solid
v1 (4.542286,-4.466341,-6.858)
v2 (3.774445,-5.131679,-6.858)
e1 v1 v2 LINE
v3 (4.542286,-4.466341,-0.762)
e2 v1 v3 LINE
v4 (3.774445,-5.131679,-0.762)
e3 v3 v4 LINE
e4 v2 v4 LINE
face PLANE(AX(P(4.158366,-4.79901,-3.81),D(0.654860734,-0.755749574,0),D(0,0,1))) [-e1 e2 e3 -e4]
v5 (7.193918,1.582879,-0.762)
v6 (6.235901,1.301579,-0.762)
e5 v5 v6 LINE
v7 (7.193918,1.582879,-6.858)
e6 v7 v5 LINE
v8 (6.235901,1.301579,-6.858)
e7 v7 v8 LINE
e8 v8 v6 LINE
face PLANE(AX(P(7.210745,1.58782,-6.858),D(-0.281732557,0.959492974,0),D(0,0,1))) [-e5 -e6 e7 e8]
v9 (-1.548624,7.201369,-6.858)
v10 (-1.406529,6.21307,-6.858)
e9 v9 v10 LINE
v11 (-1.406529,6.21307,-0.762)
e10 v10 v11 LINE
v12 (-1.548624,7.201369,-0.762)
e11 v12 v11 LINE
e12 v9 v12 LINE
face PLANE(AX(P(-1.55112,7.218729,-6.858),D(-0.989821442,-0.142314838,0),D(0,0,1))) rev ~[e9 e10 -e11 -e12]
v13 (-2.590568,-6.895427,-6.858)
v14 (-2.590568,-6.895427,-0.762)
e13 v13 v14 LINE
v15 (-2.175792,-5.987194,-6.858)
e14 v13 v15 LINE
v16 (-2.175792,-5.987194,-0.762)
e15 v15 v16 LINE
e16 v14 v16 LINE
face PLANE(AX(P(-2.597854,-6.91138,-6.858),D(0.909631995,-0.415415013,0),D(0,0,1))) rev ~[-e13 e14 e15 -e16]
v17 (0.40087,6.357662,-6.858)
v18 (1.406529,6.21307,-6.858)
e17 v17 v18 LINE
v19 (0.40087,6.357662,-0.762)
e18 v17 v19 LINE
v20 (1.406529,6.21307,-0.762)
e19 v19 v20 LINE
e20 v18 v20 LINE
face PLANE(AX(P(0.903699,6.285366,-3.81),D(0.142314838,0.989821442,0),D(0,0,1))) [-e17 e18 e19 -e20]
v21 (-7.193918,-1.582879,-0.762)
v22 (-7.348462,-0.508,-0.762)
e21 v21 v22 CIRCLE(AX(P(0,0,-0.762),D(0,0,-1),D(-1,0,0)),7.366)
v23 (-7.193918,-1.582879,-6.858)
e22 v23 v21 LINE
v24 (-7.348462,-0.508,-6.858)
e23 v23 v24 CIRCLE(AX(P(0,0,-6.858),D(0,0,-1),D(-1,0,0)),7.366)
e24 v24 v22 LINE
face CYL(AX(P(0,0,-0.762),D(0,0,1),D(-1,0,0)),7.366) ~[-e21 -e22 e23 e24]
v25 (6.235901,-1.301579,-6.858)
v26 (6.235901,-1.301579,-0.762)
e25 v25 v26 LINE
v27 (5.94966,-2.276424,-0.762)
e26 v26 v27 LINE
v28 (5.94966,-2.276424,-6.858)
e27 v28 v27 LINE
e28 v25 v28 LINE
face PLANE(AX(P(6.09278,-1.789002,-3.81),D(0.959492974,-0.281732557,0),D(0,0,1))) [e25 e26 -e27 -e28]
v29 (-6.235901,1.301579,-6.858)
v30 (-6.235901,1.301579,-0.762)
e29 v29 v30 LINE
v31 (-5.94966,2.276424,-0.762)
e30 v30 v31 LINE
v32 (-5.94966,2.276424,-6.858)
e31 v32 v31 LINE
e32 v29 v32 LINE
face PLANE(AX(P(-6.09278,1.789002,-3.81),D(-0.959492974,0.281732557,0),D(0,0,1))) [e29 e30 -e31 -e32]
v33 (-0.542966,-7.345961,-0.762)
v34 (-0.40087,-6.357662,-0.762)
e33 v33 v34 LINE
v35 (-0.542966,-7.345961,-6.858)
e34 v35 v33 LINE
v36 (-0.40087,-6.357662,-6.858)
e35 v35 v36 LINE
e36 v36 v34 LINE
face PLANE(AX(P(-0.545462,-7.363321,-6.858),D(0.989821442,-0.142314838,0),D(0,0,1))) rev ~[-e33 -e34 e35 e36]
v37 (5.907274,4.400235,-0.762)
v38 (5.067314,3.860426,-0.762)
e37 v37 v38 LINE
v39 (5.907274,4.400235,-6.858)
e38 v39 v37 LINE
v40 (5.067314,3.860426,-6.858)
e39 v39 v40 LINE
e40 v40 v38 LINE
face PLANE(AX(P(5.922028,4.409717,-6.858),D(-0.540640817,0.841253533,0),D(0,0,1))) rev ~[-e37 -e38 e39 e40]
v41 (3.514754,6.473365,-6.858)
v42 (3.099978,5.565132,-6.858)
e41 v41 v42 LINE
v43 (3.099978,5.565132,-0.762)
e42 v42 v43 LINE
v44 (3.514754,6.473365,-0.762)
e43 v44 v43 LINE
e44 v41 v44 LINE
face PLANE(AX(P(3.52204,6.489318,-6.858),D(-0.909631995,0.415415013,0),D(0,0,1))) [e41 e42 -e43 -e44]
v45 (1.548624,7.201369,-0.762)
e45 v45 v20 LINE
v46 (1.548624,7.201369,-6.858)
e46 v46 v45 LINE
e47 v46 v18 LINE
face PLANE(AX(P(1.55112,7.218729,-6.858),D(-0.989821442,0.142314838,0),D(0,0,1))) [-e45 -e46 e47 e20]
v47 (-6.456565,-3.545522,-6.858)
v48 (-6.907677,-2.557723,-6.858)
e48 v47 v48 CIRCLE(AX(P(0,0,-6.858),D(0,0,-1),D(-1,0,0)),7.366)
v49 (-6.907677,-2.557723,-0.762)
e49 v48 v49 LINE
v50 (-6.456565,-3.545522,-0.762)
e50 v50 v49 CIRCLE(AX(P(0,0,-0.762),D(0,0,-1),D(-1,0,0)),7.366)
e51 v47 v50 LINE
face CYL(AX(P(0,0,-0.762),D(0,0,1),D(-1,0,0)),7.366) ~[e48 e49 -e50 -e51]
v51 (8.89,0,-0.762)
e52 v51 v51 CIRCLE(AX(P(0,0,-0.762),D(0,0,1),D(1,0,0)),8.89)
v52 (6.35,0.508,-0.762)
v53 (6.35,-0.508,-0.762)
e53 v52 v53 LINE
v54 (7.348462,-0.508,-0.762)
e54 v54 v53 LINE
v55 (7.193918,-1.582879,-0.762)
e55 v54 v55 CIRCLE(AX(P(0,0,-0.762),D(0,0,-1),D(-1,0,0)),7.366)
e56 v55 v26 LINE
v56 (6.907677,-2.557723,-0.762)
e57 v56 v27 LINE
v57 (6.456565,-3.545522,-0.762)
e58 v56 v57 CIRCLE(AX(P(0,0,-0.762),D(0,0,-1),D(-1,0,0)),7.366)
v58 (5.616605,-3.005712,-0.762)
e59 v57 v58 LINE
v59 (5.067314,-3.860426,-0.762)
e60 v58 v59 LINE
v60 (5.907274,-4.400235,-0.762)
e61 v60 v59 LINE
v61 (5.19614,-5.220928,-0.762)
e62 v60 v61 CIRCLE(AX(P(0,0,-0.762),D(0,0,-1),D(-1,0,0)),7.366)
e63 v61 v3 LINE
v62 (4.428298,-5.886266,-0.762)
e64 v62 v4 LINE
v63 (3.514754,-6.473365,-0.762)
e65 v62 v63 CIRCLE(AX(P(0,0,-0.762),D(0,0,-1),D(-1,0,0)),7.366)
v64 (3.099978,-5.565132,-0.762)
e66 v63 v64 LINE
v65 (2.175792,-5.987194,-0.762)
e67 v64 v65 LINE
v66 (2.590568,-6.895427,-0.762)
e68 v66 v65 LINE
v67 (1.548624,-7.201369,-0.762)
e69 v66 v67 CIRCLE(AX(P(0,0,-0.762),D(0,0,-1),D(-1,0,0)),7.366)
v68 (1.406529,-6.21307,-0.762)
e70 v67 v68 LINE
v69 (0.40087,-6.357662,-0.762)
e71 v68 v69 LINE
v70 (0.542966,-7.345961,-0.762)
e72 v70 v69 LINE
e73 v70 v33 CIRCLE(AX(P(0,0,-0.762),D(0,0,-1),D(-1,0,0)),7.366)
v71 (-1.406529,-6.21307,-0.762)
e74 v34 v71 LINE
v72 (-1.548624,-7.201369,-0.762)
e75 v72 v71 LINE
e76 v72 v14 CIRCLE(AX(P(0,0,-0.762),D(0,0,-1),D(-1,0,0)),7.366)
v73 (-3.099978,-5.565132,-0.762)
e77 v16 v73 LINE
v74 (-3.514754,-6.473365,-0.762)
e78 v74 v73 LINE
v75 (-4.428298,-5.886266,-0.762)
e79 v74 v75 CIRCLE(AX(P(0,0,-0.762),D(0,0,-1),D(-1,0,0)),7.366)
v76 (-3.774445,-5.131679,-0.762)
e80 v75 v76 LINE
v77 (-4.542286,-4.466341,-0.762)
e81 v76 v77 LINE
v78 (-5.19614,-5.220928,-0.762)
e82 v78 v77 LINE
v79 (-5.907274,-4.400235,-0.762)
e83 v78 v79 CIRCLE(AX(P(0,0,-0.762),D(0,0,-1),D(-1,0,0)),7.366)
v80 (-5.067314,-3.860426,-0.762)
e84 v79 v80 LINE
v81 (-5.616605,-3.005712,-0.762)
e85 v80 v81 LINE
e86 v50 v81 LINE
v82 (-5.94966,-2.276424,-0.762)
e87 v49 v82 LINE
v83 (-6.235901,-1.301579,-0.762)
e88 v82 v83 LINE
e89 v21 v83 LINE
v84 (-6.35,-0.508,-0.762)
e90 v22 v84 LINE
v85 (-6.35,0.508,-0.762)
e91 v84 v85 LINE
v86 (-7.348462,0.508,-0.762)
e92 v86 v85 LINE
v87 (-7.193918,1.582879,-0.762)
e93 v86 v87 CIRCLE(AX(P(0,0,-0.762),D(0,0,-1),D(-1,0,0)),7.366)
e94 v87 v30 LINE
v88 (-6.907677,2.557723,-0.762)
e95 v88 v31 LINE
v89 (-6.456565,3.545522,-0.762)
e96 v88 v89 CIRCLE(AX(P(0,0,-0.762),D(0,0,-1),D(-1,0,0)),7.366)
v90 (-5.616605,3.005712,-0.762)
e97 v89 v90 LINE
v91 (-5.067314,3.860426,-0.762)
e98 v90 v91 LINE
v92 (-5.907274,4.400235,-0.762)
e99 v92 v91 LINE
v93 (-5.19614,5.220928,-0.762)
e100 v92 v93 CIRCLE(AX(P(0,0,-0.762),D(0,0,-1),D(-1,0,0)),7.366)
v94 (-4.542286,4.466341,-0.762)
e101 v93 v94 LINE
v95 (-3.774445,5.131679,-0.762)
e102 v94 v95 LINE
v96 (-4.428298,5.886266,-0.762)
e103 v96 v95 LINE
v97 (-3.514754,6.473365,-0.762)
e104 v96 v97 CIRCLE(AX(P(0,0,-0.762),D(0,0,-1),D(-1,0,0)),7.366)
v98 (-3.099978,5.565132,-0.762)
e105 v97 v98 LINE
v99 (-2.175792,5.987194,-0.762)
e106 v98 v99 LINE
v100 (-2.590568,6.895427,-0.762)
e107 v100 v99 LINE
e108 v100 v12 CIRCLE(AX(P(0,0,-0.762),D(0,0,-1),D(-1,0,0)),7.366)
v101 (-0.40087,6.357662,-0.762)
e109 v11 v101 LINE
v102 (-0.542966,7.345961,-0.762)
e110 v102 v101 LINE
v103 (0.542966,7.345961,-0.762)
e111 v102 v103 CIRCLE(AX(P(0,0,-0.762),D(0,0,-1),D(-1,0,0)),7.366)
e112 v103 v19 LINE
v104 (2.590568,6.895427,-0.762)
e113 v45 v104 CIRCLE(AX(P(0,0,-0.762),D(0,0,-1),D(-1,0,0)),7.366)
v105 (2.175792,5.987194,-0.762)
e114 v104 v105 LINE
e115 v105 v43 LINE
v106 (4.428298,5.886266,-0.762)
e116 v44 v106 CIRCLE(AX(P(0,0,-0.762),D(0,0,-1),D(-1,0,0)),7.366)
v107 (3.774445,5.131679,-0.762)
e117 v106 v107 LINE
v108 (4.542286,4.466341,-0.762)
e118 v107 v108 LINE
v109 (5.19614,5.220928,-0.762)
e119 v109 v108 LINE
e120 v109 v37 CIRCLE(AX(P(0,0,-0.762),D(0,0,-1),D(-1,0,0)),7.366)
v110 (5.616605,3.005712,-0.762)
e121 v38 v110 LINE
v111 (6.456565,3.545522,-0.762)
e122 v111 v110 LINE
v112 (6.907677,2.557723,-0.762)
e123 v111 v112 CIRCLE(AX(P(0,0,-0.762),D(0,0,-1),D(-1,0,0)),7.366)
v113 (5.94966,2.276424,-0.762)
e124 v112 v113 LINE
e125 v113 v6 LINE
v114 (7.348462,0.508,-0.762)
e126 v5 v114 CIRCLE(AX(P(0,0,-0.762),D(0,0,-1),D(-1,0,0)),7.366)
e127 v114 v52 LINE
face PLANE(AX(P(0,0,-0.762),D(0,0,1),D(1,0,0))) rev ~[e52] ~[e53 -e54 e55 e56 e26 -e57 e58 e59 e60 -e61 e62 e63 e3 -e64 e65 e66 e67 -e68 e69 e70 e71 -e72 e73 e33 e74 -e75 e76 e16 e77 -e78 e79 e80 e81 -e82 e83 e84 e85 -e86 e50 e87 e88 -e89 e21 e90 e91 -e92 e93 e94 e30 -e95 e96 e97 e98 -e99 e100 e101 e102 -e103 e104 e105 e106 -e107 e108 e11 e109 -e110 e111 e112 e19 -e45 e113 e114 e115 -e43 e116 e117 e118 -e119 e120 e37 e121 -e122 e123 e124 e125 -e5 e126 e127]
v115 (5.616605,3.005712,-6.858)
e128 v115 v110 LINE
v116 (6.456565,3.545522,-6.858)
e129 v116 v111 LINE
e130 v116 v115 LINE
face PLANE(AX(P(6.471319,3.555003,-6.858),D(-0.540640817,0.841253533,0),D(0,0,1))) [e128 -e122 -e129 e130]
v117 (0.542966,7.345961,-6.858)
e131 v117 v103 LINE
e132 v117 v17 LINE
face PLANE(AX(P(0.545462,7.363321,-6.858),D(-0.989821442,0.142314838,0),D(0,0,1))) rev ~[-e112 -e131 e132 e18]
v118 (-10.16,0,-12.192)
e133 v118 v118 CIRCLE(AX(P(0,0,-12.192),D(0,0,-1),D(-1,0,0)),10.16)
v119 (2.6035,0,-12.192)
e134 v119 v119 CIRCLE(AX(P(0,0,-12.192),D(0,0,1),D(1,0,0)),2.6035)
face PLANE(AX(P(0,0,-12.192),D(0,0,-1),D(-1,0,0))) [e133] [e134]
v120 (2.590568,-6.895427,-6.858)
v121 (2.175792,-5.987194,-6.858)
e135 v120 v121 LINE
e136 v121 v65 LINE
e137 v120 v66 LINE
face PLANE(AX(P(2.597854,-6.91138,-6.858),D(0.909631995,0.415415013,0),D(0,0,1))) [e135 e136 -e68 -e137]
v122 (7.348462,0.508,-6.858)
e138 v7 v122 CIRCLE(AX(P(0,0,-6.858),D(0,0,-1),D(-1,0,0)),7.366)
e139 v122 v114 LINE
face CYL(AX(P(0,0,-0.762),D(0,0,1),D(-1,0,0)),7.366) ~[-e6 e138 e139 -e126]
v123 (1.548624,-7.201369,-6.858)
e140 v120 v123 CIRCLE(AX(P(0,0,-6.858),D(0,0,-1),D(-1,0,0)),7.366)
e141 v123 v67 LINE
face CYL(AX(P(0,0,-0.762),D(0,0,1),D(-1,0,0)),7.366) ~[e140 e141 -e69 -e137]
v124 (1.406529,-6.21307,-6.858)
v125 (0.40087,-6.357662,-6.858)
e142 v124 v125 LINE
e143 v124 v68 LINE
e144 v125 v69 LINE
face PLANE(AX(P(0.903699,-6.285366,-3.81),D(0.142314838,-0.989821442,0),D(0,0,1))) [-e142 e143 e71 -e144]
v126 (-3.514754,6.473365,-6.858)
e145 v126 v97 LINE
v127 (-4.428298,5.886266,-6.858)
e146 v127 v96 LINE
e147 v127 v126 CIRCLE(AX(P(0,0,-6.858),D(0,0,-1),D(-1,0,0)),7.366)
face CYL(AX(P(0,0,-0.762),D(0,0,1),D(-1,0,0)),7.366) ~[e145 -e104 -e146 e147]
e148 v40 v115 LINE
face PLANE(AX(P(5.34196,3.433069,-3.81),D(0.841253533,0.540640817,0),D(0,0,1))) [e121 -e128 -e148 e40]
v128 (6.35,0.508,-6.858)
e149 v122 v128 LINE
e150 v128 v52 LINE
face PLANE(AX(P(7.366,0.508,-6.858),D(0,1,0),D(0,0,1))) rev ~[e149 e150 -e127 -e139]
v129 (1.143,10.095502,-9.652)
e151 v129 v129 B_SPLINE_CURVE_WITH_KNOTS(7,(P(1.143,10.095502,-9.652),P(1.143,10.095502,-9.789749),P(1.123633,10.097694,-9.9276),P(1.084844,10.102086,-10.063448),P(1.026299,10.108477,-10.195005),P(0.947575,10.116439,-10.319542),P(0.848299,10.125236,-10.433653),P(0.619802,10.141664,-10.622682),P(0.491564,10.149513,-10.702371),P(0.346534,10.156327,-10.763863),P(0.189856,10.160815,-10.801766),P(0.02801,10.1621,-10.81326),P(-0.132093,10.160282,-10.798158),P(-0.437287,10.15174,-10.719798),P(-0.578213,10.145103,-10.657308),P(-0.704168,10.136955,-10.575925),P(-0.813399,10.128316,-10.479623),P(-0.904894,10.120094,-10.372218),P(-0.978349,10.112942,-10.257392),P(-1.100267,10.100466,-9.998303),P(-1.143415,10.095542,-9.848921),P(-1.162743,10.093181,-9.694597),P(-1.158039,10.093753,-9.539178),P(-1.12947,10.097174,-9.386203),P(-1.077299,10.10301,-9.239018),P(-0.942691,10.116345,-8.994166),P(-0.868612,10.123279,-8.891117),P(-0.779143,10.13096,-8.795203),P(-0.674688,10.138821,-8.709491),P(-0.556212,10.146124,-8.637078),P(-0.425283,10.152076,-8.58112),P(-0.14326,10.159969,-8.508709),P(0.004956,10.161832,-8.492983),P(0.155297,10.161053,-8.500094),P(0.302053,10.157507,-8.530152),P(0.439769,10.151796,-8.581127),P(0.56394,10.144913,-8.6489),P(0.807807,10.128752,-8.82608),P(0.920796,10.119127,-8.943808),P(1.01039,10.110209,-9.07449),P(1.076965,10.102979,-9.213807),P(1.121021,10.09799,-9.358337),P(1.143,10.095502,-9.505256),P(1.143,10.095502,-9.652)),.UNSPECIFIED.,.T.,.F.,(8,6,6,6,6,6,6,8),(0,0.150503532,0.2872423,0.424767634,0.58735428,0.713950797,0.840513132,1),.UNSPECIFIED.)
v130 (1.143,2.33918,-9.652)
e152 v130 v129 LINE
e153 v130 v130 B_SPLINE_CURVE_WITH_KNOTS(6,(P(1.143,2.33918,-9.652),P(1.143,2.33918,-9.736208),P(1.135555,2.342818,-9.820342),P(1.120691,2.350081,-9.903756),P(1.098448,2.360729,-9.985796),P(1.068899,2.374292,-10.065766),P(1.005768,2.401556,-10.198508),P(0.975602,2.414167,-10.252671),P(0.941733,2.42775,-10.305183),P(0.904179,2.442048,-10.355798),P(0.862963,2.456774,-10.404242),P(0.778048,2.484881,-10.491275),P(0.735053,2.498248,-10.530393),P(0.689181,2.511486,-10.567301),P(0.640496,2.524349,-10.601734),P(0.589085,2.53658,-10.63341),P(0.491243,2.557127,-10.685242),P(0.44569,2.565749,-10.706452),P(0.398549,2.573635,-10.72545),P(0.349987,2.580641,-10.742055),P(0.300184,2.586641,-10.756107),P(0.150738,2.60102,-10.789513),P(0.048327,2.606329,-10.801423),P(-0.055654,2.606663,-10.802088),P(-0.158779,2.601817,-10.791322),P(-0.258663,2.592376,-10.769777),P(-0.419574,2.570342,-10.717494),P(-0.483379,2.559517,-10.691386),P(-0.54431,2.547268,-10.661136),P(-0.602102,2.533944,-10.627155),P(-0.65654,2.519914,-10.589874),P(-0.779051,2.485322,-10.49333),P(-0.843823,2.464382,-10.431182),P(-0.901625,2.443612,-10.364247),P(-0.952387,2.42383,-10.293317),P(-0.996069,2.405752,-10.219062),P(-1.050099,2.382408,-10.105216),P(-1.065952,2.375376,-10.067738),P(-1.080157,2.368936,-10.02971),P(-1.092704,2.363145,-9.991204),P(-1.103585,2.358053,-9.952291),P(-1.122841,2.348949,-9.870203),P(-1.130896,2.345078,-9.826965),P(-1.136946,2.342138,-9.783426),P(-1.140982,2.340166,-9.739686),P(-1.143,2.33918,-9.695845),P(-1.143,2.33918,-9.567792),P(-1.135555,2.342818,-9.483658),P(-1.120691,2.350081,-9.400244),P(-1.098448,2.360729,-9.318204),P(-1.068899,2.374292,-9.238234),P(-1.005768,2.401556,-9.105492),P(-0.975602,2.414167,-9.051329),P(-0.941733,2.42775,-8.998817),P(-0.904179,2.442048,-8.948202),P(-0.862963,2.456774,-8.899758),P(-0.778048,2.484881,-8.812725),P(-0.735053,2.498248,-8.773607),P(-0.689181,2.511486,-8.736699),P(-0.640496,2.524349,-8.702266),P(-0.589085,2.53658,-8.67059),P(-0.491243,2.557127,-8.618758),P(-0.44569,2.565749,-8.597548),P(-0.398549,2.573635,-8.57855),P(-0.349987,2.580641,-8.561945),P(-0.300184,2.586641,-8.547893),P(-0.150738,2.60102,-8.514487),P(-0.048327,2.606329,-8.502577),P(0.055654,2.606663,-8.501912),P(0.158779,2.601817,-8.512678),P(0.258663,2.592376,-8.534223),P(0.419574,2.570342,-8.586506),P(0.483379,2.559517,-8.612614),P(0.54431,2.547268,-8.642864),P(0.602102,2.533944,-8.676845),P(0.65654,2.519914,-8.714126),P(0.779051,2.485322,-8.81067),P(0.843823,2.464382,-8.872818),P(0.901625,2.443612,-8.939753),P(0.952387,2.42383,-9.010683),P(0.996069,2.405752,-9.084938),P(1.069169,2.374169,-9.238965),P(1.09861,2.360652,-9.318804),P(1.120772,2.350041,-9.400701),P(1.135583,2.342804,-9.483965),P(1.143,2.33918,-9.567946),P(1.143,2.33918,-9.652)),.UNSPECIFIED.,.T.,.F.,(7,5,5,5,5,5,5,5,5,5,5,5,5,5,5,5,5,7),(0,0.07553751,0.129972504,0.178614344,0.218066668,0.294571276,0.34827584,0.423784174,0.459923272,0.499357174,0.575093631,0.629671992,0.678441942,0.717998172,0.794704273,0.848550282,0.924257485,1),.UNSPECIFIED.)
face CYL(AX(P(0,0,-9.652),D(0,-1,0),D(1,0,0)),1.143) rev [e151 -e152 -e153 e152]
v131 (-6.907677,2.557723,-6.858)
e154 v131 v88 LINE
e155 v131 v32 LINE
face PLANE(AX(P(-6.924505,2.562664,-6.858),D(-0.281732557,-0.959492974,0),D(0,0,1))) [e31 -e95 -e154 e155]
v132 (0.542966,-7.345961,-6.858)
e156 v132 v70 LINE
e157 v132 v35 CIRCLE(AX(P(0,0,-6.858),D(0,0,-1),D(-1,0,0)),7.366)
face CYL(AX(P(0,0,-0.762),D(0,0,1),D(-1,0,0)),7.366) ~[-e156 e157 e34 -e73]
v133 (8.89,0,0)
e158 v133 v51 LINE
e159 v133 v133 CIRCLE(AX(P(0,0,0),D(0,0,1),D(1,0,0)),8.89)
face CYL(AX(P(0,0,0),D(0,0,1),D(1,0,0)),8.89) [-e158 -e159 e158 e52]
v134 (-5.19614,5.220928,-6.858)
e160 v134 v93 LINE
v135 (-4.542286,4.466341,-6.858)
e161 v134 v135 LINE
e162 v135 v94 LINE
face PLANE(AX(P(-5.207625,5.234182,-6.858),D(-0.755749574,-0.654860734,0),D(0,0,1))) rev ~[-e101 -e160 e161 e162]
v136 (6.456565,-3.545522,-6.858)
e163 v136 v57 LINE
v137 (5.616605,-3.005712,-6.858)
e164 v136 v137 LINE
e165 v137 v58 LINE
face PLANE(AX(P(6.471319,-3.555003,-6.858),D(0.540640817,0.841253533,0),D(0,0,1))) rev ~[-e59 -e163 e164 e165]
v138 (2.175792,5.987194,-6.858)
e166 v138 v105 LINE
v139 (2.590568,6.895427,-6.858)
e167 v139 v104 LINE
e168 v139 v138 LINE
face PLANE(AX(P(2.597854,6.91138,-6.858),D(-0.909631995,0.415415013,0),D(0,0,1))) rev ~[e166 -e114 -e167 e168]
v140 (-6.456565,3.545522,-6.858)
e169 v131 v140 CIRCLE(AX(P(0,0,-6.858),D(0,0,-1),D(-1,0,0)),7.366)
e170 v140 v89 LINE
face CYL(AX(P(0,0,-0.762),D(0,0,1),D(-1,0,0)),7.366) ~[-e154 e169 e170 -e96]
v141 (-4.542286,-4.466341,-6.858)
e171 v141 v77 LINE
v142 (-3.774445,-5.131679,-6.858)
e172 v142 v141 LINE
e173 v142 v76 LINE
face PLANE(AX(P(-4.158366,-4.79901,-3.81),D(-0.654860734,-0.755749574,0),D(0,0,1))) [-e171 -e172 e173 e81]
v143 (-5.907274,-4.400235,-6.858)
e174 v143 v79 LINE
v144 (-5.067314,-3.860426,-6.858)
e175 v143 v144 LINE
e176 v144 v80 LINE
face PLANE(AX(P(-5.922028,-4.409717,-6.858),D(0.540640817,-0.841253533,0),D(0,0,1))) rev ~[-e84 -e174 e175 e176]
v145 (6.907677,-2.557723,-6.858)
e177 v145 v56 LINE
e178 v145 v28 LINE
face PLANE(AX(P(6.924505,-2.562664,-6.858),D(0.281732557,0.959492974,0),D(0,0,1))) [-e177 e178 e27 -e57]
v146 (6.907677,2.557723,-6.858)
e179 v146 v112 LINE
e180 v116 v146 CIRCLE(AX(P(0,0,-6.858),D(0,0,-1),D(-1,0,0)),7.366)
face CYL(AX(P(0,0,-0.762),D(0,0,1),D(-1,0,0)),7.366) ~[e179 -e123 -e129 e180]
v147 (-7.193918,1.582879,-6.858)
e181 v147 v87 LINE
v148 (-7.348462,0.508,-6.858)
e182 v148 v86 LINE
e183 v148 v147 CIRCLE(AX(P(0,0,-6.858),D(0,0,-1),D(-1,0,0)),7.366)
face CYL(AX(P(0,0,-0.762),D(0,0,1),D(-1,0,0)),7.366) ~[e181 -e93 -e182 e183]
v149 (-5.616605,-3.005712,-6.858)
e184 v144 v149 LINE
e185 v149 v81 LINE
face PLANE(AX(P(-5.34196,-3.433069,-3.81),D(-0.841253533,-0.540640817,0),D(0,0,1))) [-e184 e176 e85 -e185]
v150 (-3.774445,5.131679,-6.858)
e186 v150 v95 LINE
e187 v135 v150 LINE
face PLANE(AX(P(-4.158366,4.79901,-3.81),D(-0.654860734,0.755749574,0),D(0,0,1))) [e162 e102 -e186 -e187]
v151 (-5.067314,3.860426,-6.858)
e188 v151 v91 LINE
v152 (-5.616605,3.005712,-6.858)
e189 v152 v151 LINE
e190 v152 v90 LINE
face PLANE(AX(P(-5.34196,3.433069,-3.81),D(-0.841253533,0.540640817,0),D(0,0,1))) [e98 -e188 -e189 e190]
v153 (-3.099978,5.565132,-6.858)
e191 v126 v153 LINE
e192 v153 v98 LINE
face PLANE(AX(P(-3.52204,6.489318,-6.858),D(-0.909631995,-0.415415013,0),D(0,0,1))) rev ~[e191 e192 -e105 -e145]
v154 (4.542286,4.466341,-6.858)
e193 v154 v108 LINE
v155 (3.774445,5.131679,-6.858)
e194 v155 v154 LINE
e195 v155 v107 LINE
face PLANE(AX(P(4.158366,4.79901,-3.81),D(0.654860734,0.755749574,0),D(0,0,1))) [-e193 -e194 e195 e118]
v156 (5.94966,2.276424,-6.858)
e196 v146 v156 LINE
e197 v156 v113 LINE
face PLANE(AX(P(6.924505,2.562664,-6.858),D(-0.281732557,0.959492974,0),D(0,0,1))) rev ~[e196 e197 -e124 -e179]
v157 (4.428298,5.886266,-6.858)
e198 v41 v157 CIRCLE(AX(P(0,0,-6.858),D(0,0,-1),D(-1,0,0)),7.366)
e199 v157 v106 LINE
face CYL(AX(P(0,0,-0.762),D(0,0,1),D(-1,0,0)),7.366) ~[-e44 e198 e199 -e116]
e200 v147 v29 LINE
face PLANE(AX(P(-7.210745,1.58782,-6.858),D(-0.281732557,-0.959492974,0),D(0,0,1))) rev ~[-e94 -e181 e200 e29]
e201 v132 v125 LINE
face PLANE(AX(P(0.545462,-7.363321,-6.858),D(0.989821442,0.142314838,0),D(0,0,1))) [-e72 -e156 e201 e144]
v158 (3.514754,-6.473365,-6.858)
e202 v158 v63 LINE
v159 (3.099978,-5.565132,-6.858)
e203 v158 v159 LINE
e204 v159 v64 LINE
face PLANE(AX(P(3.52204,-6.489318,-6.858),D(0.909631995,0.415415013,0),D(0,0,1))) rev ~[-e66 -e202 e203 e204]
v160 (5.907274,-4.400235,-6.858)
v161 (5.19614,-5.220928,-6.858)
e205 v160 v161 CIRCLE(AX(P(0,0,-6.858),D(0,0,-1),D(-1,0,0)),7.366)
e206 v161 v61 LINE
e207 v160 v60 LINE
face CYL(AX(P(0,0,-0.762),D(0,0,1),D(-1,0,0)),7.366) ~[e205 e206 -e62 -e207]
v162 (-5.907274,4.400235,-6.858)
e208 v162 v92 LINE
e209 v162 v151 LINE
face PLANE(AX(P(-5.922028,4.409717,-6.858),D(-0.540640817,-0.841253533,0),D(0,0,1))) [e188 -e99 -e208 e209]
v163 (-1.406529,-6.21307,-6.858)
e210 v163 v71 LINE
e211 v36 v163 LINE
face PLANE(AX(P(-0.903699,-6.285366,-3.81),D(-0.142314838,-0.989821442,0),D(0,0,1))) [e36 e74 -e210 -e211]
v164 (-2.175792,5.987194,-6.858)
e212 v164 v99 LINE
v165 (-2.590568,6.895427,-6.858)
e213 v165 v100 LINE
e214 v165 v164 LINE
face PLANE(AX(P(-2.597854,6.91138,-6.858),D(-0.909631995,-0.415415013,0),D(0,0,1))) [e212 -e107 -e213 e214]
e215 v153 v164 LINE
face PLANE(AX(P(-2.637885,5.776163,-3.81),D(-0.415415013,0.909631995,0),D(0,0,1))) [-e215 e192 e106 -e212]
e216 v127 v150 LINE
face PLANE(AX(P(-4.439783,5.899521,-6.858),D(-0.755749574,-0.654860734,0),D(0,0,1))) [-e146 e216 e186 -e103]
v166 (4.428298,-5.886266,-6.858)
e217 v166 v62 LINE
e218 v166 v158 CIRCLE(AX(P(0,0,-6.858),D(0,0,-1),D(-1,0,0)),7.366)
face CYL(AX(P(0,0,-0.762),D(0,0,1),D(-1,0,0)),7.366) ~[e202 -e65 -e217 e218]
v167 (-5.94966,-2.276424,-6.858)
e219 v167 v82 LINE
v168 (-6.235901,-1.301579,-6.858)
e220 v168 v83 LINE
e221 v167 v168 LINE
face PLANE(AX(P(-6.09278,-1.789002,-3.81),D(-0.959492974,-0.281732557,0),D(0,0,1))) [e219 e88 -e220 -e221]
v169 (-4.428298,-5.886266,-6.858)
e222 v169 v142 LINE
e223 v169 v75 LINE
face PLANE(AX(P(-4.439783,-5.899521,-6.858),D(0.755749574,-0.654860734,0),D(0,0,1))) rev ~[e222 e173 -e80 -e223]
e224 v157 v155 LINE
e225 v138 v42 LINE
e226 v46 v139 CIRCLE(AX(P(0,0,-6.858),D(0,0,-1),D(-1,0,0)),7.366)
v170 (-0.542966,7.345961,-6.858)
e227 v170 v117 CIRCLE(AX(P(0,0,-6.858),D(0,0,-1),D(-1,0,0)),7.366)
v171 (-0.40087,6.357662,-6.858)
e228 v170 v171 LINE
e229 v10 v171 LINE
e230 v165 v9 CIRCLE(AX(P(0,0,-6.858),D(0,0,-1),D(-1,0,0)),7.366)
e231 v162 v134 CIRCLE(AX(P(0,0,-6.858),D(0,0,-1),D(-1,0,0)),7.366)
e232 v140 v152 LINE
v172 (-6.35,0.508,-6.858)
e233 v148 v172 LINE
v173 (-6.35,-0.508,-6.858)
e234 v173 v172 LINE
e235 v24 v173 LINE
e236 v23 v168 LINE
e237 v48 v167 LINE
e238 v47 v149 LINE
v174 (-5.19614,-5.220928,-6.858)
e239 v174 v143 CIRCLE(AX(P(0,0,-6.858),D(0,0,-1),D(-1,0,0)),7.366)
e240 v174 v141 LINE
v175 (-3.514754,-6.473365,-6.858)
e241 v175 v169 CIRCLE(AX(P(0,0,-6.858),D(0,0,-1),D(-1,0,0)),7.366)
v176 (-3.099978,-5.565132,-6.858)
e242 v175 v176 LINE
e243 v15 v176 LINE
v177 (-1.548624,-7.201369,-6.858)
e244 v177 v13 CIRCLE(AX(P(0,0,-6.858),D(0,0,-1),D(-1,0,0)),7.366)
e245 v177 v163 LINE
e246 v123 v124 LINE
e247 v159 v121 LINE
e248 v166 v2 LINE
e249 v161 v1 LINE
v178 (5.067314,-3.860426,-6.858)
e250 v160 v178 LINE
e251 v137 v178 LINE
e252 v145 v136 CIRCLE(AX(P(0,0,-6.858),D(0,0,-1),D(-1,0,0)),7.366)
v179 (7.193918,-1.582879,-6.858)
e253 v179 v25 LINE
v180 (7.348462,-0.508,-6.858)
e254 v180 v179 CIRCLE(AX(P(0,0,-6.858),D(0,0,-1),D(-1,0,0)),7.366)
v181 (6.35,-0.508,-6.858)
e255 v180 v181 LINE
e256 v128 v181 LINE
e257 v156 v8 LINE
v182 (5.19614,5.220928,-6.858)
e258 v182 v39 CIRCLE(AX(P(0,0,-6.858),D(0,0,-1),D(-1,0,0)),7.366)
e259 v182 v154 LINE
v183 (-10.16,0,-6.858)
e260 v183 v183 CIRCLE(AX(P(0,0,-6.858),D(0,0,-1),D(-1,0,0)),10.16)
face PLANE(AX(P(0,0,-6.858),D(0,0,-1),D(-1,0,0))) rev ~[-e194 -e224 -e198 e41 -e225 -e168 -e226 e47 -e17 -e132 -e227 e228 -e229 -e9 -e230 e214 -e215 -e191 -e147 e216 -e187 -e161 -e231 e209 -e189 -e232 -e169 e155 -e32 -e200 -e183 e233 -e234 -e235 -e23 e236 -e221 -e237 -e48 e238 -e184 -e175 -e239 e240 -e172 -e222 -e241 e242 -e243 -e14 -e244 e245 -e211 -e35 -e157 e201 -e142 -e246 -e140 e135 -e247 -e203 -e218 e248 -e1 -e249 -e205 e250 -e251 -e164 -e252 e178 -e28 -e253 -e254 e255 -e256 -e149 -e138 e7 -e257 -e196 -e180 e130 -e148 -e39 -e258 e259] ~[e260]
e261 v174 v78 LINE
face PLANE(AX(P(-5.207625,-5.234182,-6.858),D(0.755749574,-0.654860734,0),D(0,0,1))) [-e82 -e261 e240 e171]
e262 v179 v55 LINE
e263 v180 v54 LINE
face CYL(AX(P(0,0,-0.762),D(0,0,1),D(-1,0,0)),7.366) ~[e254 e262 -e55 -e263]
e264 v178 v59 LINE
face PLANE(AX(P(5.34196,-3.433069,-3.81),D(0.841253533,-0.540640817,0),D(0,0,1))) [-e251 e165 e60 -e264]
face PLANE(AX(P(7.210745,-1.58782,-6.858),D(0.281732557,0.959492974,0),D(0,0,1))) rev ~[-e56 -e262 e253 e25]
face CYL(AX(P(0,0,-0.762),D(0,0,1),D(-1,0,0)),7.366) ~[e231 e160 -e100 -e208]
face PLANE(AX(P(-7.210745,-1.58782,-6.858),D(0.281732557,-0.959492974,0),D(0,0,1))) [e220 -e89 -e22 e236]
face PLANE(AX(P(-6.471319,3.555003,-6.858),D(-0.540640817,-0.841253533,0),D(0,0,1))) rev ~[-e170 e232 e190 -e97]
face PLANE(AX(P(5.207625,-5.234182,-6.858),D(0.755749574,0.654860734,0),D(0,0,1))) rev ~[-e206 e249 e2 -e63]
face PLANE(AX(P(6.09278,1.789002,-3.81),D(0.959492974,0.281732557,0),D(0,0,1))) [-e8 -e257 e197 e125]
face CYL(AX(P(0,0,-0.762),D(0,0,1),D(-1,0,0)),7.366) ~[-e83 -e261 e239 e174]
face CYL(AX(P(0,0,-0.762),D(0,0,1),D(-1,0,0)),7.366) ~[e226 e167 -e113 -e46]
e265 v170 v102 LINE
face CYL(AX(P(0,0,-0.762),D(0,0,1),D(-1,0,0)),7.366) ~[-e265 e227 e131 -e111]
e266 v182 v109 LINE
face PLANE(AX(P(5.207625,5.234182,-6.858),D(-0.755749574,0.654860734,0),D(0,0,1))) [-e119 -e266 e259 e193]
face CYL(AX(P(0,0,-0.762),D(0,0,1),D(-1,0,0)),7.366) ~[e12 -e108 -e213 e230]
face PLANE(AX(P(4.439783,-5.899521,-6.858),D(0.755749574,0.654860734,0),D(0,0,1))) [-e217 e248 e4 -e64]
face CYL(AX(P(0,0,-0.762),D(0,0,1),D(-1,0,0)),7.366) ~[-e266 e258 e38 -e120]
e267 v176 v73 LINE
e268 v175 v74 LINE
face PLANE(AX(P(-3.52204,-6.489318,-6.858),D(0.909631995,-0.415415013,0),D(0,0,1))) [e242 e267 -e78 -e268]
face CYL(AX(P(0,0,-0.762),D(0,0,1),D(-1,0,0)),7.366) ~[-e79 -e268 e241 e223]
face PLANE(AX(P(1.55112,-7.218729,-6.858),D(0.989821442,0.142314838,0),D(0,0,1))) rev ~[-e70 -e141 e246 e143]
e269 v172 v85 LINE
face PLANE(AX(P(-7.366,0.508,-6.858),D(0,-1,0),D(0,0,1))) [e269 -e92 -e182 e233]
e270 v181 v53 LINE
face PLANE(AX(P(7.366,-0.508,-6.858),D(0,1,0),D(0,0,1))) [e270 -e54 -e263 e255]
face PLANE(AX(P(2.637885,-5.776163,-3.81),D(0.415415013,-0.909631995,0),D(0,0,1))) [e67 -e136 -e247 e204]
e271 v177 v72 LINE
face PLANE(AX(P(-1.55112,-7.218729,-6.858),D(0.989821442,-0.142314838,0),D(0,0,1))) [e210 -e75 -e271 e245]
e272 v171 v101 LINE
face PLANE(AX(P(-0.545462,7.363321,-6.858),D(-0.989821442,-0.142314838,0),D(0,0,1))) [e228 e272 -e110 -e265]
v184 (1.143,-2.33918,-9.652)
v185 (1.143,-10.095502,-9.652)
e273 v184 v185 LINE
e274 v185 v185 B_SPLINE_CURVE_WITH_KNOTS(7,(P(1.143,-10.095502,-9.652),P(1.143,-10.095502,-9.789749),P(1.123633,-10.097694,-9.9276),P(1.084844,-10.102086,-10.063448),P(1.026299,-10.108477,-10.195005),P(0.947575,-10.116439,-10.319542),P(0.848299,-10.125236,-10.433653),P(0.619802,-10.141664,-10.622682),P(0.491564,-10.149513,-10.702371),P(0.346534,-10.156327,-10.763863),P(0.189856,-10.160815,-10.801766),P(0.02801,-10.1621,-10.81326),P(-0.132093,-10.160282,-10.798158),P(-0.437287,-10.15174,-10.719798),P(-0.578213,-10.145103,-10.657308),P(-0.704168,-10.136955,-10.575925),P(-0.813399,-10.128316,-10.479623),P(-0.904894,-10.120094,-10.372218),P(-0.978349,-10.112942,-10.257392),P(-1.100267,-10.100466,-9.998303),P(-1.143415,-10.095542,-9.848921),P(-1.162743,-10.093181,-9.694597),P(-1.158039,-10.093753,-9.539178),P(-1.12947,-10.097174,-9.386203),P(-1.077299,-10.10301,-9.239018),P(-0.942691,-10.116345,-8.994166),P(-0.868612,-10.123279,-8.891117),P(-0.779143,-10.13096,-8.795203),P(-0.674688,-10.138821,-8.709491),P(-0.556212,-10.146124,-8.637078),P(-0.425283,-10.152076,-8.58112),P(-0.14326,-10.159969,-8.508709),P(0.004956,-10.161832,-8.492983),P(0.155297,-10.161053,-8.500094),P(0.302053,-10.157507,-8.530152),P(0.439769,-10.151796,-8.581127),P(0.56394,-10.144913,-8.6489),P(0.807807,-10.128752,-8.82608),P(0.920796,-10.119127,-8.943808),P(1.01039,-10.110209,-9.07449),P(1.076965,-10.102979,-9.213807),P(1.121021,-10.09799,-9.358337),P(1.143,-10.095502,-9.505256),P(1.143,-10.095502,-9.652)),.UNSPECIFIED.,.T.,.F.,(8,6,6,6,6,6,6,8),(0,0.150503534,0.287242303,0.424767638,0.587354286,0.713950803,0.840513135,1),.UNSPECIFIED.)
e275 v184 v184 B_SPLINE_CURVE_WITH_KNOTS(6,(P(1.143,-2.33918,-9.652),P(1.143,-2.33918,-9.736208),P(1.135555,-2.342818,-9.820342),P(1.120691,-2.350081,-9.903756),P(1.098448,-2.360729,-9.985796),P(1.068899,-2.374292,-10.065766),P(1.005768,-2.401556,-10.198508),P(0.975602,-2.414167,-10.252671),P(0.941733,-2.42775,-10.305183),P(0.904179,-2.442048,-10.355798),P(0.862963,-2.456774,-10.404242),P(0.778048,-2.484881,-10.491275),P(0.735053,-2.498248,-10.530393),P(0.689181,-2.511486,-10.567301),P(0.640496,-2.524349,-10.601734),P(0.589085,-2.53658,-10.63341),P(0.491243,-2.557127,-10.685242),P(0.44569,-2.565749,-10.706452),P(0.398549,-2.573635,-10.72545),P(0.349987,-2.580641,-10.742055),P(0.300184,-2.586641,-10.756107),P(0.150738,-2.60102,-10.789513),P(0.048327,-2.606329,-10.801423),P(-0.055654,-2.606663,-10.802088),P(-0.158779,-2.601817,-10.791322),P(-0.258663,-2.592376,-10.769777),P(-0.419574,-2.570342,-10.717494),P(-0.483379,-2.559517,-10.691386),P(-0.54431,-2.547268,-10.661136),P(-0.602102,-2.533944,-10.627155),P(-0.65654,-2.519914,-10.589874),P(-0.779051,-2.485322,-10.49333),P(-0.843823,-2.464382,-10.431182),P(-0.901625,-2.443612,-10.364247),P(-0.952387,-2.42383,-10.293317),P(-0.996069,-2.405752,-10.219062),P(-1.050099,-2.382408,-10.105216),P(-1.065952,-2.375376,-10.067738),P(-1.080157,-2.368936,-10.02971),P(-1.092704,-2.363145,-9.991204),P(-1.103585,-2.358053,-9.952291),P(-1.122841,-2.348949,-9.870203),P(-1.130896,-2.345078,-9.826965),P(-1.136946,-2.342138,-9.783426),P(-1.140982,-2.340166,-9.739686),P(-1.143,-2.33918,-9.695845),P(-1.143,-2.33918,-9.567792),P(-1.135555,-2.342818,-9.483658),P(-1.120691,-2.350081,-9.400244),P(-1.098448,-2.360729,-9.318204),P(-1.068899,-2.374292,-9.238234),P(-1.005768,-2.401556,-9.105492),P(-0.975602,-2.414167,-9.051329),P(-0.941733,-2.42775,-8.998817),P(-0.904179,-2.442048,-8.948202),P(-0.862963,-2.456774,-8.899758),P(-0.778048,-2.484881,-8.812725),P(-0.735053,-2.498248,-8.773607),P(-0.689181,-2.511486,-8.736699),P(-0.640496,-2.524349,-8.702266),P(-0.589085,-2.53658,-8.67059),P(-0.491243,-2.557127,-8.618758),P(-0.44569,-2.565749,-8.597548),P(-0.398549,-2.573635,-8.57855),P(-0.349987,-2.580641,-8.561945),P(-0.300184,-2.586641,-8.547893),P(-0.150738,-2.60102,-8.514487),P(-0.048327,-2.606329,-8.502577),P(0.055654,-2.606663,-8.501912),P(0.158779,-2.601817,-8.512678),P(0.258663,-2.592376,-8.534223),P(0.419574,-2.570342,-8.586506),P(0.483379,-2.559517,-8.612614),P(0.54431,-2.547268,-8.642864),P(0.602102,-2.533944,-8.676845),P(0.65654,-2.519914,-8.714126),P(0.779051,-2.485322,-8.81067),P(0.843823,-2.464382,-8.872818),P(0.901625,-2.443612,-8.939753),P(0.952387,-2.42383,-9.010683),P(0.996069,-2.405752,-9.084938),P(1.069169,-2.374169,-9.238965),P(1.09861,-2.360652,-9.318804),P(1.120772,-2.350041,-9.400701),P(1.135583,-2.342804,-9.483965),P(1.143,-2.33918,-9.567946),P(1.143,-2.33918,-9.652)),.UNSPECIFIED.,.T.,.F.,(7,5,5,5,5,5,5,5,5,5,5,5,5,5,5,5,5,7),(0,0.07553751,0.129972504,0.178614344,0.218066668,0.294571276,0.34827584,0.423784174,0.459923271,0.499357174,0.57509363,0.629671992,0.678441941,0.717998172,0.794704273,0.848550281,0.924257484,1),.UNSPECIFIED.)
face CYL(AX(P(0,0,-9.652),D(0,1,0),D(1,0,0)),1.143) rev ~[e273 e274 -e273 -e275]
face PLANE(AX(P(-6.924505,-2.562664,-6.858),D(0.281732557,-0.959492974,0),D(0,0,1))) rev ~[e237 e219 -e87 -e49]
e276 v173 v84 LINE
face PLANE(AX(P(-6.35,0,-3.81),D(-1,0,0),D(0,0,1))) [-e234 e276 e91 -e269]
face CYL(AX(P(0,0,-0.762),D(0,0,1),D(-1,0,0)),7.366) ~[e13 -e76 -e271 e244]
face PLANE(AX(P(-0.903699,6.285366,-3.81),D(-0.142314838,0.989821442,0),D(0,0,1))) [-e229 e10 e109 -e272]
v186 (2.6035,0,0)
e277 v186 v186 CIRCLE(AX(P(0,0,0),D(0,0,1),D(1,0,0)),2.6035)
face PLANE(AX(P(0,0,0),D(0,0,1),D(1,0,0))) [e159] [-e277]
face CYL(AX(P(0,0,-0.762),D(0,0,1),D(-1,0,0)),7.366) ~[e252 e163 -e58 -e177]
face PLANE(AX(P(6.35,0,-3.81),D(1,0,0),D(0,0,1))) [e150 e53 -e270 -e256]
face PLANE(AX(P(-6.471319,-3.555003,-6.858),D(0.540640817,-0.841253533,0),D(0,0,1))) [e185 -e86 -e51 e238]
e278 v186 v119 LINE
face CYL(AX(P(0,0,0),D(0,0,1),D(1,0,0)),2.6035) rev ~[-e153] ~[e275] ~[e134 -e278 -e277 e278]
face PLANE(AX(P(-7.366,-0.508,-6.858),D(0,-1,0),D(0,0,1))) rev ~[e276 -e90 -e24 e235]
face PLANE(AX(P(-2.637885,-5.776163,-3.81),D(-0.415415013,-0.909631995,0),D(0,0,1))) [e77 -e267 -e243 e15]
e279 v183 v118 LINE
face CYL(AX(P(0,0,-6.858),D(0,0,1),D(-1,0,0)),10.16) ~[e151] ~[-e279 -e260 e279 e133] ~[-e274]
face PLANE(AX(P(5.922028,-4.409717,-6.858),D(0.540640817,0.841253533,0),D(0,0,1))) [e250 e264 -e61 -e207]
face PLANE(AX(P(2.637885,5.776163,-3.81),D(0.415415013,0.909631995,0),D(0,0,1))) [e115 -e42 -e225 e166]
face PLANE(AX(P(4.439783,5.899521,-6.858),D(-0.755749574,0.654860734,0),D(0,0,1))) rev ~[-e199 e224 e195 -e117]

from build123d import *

# Parameters (mm, degrees)
SKETCH1_R               = 8.89
BOSS_EXTRUDE1_DEPTH     = 0.762
SKETCH2_R               = 7.366
BOSS_EXTRUDE2_DEPTH     = 6.096
SKETCH3_R               = 10.16
BOSS_EXTRUDE3_DEPTH     = 5.334
SKETCH4_R               = 2.6035
CUT_EXTRUDE1_DEPTH      = 25.654
SKETCH5_W               = 6.096
SKETCH5_H               = 1.016
CUT_EXTRUDE2_DEPTH      = 1.016
CIRPATTERN1_COUNT       = 22
CUT_EXTRUDE3_DEPTH      = 22.098
CUT_EXTRUDE3_DEPTH_BACK = 22.098
SKETCH6_R               = 1.143


with BuildPart() as part:
    # Sketch1 → Boss-Extrude1 (new body)
    with BuildSketch(Plane.XY):
        Circle(SKETCH1_R)
    extrude(amount=-BOSS_EXTRUDE1_DEPTH)

    # Sketch2 → Boss-Extrude2 (add)
    with BuildSketch(Plane(origin=(0, 0, -0.762), x_dir=(-1, 0, 0), z_dir=(0, 0, -1))):
        Circle(SKETCH2_R)
    extrude(amount=BOSS_EXTRUDE2_DEPTH)

    # Sketch3 → Boss-Extrude3 (add)
    with BuildSketch(Plane(origin=(0, 0, -6.858), x_dir=(-1, 0, 0), z_dir=(0, 0, -1))):
        Circle(SKETCH3_R)
    extrude(amount=BOSS_EXTRUDE3_DEPTH)

    # Sketch4 → Cut-Extrude1 (cut)
    with BuildSketch(Plane.XY):
        Circle(SKETCH4_R)
    extrude(amount=-CUT_EXTRUDE1_DEPTH, mode=Mode.SUBTRACT)

    # Sketch5 → Cut-Extrude2 (cut)
    with BuildSketch(Plane.ZY.offset(7.366)):
        with Locations((-3.81, 0)):
            Rectangle(SKETCH5_W, SKETCH5_H)
    cut_extrude2 = extrude(amount=-CUT_EXTRUDE2_DEPTH, mode=Mode.SUBTRACT)

    # CirPattern1: Cut-Extrude2 ×22 about axis
    cirpattern1_axis = Axis((0, 0, -12.192), (0, 0, 1))
    for i in range(1, CIRPATTERN1_COUNT):
        add(cut_extrude2.rotate(cirpattern1_axis, i * 360 / CIRPATTERN1_COUNT), mode=Mode.SUBTRACT)

    # Sketch6 → Cut-Extrude3 (cut, two sides: drawn at the far end of the back side and taken through both)
    with BuildSketch(Plane(origin=(0, 0, 0), x_dir=(1, 0, 0), z_dir=(0, 1, 0)).offset(-CUT_EXTRUDE3_DEPTH_BACK)):
        with Locations((0, 9.652)):
            Circle(SKETCH6_R)
    extrude(amount=CUT_EXTRUDE3_DEPTH + CUT_EXTRUDE3_DEPTH_BACK, mode=Mode.SUBTRACT)


solid = part.part
